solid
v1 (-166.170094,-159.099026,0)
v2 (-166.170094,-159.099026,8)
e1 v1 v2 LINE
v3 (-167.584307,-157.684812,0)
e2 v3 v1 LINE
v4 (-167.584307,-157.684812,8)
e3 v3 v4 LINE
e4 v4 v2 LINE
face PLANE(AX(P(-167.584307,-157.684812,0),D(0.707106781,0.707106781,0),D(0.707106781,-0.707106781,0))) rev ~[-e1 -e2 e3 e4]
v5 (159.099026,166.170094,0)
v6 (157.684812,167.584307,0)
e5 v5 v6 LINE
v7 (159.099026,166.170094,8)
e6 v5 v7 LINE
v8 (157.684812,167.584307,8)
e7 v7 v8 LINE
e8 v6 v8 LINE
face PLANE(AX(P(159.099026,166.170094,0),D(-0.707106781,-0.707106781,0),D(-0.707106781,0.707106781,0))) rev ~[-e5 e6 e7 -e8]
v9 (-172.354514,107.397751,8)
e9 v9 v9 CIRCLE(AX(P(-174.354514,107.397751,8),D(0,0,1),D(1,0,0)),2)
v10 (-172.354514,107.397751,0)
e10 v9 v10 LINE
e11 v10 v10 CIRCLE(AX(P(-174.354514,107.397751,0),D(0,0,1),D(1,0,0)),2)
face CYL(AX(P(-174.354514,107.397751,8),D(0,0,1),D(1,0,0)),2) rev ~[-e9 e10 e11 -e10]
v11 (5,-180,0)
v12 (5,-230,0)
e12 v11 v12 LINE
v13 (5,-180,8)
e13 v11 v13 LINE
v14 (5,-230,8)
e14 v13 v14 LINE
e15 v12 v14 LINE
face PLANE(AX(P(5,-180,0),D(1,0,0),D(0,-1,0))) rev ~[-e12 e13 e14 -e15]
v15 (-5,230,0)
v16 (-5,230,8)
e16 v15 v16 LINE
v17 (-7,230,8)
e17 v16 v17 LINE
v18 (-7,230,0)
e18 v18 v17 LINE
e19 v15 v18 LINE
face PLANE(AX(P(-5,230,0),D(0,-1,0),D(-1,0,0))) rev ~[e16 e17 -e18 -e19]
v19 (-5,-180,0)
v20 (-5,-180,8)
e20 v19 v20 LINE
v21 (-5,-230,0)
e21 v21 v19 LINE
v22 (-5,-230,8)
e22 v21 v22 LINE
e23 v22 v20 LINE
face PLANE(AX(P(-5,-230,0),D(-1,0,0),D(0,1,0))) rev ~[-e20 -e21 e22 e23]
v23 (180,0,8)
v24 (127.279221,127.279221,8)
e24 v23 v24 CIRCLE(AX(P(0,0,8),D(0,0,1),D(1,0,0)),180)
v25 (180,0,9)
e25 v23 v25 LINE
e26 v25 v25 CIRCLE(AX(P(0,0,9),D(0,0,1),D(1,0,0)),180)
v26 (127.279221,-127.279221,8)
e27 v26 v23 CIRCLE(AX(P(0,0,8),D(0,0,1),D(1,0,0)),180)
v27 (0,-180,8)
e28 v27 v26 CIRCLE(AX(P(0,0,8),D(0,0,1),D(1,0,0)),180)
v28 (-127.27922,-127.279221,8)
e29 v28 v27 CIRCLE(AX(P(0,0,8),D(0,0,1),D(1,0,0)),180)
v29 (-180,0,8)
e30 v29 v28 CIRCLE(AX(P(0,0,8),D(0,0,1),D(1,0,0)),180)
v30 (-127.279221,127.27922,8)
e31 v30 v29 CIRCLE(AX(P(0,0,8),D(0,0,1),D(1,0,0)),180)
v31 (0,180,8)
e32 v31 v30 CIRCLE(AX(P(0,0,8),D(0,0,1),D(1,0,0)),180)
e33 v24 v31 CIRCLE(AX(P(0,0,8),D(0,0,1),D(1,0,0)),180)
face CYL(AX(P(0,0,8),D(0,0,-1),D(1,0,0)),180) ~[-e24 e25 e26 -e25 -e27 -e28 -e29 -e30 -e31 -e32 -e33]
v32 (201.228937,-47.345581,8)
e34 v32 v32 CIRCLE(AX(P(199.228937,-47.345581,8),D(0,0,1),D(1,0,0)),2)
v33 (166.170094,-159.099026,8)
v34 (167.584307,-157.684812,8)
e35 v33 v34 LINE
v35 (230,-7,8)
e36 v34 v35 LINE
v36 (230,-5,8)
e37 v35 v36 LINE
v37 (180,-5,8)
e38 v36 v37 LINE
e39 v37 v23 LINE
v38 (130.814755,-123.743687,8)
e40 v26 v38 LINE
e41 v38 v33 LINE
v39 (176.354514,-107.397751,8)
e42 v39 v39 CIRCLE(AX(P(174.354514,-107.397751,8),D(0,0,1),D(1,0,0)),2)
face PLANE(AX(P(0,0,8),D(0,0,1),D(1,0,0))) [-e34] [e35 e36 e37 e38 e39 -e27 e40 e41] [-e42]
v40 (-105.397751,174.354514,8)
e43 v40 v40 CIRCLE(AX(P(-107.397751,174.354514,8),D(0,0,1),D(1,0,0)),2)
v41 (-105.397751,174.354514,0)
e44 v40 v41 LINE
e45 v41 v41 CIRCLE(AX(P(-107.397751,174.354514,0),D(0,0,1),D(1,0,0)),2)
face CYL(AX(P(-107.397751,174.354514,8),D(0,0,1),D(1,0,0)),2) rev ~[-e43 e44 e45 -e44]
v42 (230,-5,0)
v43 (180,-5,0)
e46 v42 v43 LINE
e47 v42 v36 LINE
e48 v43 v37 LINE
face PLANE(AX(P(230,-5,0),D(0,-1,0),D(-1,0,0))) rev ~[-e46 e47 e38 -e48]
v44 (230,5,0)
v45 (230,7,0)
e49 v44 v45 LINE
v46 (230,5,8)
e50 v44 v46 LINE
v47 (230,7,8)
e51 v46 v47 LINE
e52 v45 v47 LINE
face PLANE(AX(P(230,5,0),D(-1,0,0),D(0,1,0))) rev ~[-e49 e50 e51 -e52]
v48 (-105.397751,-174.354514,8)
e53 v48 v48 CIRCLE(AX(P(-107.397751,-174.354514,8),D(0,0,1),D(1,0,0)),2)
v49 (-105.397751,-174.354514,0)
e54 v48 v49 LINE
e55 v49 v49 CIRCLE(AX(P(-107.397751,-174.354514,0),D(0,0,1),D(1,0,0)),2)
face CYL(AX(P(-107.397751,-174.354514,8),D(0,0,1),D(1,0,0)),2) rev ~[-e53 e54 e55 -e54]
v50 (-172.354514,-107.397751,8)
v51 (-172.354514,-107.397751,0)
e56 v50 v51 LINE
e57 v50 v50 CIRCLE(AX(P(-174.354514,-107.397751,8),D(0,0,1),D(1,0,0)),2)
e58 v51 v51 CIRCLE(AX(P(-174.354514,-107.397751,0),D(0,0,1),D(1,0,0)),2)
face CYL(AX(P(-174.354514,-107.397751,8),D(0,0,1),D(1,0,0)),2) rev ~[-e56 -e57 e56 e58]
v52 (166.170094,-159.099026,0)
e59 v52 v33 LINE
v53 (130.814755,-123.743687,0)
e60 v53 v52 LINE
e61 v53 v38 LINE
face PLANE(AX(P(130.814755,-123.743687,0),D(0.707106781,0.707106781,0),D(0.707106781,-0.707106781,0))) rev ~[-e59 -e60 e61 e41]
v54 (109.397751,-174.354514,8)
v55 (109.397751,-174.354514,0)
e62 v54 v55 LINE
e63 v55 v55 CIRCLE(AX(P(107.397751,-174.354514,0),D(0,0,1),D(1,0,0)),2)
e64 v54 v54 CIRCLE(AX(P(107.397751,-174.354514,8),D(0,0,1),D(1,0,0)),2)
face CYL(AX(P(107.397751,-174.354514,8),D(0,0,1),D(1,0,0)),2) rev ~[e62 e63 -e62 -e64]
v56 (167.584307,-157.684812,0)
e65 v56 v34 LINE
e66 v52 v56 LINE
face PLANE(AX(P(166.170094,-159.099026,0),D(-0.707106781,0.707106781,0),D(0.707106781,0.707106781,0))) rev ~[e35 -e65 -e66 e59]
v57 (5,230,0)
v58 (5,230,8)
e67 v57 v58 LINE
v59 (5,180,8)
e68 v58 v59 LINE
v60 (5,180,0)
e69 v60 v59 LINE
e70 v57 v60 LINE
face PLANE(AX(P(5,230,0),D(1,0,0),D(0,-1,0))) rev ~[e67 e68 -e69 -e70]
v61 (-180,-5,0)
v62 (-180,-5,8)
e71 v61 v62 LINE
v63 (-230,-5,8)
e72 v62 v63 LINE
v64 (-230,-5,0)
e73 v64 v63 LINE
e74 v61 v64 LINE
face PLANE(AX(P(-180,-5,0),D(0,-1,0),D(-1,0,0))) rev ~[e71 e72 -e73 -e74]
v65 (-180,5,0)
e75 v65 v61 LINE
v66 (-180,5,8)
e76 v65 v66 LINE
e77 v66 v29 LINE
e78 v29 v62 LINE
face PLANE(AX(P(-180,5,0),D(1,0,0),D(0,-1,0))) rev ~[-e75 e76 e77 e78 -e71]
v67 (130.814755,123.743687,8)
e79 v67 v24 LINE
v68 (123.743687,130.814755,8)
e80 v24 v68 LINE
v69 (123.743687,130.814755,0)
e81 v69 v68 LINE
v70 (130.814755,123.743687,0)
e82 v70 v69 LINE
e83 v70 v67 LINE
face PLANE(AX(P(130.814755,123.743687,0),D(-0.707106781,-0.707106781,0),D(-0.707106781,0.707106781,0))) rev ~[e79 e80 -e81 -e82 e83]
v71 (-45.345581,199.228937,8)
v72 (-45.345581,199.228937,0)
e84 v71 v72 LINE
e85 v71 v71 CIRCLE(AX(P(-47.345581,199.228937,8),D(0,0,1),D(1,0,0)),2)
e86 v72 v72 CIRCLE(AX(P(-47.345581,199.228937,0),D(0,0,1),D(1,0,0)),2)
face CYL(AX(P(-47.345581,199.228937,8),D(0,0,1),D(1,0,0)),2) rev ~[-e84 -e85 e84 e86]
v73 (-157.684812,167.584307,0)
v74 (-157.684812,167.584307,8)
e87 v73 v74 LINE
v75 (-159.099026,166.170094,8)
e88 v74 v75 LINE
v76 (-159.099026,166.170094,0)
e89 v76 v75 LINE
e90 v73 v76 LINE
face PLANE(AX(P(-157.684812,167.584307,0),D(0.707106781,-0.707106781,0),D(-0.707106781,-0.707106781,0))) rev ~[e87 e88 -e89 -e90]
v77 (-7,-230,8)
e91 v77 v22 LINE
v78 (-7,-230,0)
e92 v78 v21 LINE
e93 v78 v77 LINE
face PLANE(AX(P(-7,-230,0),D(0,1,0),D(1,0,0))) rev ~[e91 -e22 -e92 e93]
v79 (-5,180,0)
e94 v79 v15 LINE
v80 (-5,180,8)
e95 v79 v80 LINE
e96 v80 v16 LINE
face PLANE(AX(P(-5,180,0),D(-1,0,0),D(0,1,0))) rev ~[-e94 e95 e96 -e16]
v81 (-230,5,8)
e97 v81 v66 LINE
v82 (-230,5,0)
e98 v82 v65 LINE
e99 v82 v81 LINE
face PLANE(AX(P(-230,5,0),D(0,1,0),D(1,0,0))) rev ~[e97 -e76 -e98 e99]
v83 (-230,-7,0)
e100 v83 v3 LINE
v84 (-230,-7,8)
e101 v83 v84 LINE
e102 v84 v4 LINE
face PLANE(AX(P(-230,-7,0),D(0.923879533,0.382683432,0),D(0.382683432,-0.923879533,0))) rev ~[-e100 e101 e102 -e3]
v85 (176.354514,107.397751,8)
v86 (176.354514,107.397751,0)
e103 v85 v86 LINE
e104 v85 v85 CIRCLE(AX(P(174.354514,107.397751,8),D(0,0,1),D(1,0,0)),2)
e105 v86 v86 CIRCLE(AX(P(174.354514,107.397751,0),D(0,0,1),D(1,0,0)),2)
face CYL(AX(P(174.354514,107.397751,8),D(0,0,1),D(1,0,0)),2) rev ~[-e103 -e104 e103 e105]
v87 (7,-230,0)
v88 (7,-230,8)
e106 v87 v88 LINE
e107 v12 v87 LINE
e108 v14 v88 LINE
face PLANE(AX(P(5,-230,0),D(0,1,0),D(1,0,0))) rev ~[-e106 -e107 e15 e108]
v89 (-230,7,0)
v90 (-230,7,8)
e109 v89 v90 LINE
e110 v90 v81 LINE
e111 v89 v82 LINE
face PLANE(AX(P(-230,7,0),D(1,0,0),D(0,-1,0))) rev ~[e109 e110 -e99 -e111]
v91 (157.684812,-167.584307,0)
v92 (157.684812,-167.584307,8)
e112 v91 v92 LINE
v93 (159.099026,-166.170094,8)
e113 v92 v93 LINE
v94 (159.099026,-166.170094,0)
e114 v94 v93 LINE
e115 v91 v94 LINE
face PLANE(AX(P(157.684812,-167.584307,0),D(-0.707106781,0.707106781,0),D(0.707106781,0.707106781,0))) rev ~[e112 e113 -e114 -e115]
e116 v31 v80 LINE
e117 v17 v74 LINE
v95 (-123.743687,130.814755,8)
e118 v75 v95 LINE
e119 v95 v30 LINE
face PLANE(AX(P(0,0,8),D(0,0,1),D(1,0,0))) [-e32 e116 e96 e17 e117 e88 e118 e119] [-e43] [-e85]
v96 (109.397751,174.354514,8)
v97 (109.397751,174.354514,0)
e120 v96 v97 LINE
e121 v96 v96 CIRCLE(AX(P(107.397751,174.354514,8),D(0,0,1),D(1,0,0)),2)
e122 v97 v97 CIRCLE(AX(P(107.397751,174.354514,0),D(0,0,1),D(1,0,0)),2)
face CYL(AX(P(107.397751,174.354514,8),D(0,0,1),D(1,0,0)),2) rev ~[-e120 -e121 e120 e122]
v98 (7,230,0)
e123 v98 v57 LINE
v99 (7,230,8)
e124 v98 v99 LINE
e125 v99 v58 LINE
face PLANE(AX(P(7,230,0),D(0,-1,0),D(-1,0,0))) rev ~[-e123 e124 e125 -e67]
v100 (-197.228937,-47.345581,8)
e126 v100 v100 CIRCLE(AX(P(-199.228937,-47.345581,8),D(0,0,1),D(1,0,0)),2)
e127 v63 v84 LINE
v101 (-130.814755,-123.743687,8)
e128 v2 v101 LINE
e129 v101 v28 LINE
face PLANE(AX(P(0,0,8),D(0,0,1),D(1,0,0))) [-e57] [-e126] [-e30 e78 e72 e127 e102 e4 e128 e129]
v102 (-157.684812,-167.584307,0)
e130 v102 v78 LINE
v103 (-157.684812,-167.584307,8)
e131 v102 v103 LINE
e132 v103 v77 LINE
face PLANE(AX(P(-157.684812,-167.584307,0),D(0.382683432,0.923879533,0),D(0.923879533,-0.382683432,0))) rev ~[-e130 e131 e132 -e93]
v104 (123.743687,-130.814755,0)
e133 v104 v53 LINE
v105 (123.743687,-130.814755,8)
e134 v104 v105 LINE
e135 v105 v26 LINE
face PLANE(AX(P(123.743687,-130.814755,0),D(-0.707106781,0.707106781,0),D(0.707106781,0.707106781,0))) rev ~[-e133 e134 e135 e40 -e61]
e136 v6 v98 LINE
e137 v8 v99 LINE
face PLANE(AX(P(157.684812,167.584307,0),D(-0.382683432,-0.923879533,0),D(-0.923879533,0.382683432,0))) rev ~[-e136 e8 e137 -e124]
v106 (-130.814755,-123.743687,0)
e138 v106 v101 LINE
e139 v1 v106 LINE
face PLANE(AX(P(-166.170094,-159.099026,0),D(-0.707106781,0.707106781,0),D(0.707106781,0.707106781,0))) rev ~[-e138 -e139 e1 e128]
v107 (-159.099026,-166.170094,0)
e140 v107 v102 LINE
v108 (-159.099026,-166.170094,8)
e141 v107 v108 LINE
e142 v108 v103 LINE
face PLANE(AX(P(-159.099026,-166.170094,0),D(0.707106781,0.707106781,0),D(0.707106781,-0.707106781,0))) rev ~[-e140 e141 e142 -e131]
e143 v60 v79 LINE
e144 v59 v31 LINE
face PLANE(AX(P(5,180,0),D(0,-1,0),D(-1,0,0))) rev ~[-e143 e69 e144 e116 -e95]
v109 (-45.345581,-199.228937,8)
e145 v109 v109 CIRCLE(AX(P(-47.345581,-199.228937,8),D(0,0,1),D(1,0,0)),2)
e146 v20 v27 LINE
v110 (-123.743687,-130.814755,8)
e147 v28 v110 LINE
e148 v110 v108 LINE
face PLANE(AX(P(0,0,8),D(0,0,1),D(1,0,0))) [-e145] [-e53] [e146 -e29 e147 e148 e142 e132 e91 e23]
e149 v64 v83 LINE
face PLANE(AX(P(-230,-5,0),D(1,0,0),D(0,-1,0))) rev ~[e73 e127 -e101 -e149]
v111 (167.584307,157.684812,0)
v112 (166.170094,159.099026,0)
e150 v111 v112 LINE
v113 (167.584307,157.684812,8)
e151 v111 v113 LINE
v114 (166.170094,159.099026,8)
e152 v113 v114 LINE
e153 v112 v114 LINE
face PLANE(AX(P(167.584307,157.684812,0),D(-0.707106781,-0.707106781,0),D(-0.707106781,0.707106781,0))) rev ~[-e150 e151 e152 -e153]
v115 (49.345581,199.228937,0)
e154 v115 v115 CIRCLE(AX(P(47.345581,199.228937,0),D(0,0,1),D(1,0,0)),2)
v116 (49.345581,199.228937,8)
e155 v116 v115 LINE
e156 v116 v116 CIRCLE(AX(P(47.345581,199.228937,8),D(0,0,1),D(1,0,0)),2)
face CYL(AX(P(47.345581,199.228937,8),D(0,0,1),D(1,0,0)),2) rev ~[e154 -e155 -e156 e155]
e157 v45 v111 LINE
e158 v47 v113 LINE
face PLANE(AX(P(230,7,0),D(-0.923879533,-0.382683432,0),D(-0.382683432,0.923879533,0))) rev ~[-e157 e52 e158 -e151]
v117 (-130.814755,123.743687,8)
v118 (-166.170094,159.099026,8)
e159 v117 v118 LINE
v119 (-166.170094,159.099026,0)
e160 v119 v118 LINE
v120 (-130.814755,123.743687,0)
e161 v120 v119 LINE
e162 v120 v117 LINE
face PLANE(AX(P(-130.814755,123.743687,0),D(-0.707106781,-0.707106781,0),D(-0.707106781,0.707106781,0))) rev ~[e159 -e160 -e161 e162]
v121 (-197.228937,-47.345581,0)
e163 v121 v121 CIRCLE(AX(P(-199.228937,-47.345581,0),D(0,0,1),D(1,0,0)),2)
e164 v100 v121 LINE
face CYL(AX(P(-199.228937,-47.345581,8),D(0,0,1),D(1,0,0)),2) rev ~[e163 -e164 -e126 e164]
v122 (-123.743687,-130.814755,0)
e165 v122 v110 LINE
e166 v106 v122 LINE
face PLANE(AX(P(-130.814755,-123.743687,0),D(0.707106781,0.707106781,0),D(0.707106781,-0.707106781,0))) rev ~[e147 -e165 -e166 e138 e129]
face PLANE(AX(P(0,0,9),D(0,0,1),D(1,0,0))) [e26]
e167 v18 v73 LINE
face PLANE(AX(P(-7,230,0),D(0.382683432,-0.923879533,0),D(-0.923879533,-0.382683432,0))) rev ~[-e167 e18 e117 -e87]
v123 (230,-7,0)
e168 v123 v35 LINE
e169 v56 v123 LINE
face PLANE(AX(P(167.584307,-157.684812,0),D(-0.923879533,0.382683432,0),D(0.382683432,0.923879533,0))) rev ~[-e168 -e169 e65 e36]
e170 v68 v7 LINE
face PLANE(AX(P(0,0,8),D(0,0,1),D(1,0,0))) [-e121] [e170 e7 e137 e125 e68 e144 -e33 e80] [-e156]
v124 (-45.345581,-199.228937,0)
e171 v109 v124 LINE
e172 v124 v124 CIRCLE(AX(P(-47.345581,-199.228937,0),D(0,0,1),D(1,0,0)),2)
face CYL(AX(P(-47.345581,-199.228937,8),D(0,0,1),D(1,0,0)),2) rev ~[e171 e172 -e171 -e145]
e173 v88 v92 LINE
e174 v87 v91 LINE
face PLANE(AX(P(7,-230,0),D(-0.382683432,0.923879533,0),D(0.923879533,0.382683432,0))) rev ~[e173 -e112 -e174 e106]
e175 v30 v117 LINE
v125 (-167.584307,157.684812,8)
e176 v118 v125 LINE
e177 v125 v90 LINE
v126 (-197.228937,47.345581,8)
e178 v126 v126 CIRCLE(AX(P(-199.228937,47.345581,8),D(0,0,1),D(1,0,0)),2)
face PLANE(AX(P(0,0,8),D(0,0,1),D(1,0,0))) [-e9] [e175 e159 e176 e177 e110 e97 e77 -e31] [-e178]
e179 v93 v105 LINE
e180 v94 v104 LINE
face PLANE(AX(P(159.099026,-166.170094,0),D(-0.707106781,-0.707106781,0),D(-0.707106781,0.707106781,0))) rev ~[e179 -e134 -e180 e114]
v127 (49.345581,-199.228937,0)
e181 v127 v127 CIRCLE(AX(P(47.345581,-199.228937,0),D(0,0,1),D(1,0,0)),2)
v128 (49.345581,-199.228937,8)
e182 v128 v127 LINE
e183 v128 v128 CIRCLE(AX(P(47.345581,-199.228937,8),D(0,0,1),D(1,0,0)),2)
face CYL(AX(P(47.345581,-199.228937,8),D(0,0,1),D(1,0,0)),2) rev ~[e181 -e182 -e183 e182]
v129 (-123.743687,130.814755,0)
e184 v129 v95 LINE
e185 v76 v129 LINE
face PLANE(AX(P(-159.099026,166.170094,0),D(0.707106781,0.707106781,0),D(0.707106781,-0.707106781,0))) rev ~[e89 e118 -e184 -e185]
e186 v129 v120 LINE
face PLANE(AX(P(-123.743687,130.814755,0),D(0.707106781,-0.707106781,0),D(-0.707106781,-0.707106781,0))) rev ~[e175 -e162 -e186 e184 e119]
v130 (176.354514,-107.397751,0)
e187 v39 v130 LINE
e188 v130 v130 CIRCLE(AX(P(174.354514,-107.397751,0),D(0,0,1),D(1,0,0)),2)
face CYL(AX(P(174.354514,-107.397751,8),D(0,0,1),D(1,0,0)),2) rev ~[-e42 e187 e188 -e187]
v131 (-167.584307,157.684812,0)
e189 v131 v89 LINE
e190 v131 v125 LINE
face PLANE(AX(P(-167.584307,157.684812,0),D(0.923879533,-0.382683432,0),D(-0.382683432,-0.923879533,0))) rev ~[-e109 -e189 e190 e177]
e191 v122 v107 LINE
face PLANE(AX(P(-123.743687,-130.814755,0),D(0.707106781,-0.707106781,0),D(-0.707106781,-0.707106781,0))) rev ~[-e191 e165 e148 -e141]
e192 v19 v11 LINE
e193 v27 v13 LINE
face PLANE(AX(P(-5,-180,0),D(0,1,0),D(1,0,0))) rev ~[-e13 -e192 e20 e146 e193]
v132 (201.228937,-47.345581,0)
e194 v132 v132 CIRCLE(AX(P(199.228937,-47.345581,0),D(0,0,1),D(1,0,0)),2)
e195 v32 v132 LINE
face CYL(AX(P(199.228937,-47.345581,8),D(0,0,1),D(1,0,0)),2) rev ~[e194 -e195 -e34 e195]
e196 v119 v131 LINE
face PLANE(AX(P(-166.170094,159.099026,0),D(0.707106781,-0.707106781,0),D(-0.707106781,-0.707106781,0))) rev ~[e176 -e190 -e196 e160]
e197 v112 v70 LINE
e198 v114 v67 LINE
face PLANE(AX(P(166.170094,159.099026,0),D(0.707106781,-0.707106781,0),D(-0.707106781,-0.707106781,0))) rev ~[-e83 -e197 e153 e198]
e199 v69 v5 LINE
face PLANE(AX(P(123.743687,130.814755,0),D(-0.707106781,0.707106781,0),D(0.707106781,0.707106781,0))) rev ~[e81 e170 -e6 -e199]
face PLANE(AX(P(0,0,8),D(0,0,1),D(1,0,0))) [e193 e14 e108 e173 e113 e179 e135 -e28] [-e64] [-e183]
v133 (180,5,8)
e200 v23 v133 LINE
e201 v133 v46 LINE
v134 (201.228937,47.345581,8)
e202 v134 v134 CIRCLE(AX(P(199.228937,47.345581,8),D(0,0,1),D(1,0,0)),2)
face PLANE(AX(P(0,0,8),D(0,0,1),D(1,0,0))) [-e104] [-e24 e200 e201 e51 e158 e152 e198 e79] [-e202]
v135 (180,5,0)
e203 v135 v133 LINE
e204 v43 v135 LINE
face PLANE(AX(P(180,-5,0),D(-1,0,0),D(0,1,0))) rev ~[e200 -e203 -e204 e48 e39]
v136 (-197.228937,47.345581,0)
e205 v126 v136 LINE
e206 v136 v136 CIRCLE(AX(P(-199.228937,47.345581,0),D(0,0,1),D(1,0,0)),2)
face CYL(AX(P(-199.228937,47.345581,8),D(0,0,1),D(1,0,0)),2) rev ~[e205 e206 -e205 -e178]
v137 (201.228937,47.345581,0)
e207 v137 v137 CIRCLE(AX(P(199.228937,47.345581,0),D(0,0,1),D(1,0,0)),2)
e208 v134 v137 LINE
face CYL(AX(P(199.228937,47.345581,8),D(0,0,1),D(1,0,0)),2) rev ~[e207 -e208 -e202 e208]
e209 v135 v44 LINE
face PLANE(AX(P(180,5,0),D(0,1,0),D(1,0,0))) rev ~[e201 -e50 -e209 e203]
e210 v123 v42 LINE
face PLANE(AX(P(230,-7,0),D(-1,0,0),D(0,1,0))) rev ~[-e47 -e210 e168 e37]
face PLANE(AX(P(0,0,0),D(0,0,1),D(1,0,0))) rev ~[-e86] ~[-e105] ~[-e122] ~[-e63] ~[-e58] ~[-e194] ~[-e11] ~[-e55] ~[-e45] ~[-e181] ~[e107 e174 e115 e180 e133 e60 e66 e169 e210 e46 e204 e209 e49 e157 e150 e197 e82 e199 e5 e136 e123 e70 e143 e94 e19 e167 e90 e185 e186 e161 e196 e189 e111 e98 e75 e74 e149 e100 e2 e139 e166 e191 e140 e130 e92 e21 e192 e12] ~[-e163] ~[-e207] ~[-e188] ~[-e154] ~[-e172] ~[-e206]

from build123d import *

# Parameters (mm, degrees)
BOSS_EXTRUDE1_DEPTH = 8
SKETCH2_R           = 180
BOSS_EXTRUDE2_DEPTH = 1
CUT_EXTRUDE1_REACH  = 10
SKETCH3_R           = 2


with BuildPart() as part:
    # Sketch1 → Boss-Extrude1 (new body)
    with BuildSketch(Plane.XY):
        Polygon((5, 230), (5, 180), (-5, 180), (-5, 230), (-7, 230), (-157.684812205, 167.584307141), (-159.099025767, 166.170093579), (-123.743686708, 130.814754519), (-130.81475452, 123.743686708), (-166.170093579, 159.099025767), (-167.584307141, 157.684812205), (-230, 7), (-230, 5), (-180, 5), (-180, -5), (-230, -5), (-230, -7), (-167.584307141, -157.684812205), (-166.170093579, -159.099025767), (-130.81475452, -123.743686708), (-123.743686708, -130.81475452), (-159.099025767, -166.170093579), (-157.684812205, -167.584307141), (-7, -230), (-5, -230), (-5, -180), (5, -180), (5, -230), (7, -230), (157.684812205, -167.584307141), (159.099025767, -166.170093579), (123.743686708, -130.814754519), (130.81475452, -123.743686708), (166.170093579, -159.099025767), (167.584307141, -157.684812205), (230, -7), (230, -5), (180, -5), (180, 5), (230, 5), (230, 7), (167.584307141, 157.684812205), (166.170093579, 159.099025767), (130.81475452, 123.743686708), (123.743686708, 130.81475452), (159.099025767, 166.170093579), (157.684812205, 167.584307141), (7, 230), align=None)
    extrude(amount=BOSS_EXTRUDE1_DEPTH)

    # Sketch2 → Boss-Extrude2 (add)
    with BuildSketch(Plane.XY.offset(8)):
        Circle(SKETCH2_R)
    extrude(amount=BOSS_EXTRUDE2_DEPTH)

    # Sketch3 → Cut-Extrude1 (cut, up to next)
    with BuildSketch(Plane.XY.offset(8), mode=Mode.PRIVATE) as cut_extrude1_sk1:
        with Locations((107.397750993, 174.354514299)):
            Circle(SKETCH3_R)
    cut_extrude1_tool1 = extrude(cut_extrude1_sk1.sketch, amount=-CUT_EXTRUDE1_REACH, mode=Mode.PRIVATE) & part.part
    add(cut_extrude1_tool1.solids().sort_by_distance((107.397751, 174.354514, 8))[0], mode=Mode.SUBTRACT)
    # Sketch3 → Cut-Extrude1 (cut, up to next)
    with BuildSketch(Plane.XY.offset(8), mode=Mode.PRIVATE) as cut_extrude1_sk2:
        with Locations((47.34558138, 199.228937402)):
            Circle(SKETCH3_R)
    cut_extrude1_tool2 = extrude(cut_extrude1_sk2.sketch, amount=-CUT_EXTRUDE1_REACH, mode=Mode.PRIVATE) & part.part
    add(cut_extrude1_tool2.solids().sort_by_distance((47.345581, 199.228937, 8))[0], mode=Mode.SUBTRACT)
    # Sketch3 → Cut-Extrude1 (cut, up to next)
    with BuildSketch(Plane.XY.offset(8), mode=Mode.PRIVATE) as cut_extrude1_sk3:
        with Locations((199.228937402, 47.34558138)):
            Circle(SKETCH3_R)
    cut_extrude1_tool3 = extrude(cut_extrude1_sk3.sketch, amount=-CUT_EXTRUDE1_REACH, mode=Mode.PRIVATE) & part.part
    add(cut_extrude1_tool3.solids().sort_by_distance((199.228937, 47.345581, 8))[0], mode=Mode.SUBTRACT)
    # Sketch3 → Cut-Extrude1 (cut, up to next)
    with BuildSketch(Plane.XY.offset(8), mode=Mode.PRIVATE) as cut_extrude1_sk4:
        with Locations((174.354514299, 107.397750993)):
            Circle(SKETCH3_R)
    cut_extrude1_tool4 = extrude(cut_extrude1_sk4.sketch, amount=-CUT_EXTRUDE1_REACH, mode=Mode.PRIVATE) & part.part
    add(cut_extrude1_tool4.solids().sort_by_distance((174.354514, 107.397751, 8))[0], mode=Mode.SUBTRACT)
    # Sketch3 → Cut-Extrude1 (cut, up to next)
    with BuildSketch(Plane.XY.offset(8), mode=Mode.PRIVATE) as cut_extrude1_sk5:
        with Locations((174.354514299, -107.397750993)):
            Circle(SKETCH3_R)
    cut_extrude1_tool5 = extrude(cut_extrude1_sk5.sketch, amount=-CUT_EXTRUDE1_REACH, mode=Mode.PRIVATE) & part.part
    add(cut_extrude1_tool5.solids().sort_by_distance((174.354514, -107.397751, 8))[0], mode=Mode.SUBTRACT)
    # Sketch3 → Cut-Extrude1 (cut, up to next)
    with BuildSketch(Plane.XY.offset(8), mode=Mode.PRIVATE) as cut_extrude1_sk6:
        with Locations((199.228937402, -47.34558138)):
            Circle(SKETCH3_R)
    cut_extrude1_tool6 = extrude(cut_extrude1_sk6.sketch, amount=-CUT_EXTRUDE1_REACH, mode=Mode.PRIVATE) & part.part
    add(cut_extrude1_tool6.solids().sort_by_distance((199.228937, -47.345581, 8))[0], mode=Mode.SUBTRACT)
    # Sketch3 → Cut-Extrude1 (cut, up to next)
    with BuildSketch(Plane.XY.offset(8), mode=Mode.PRIVATE) as cut_extrude1_sk7:
        with Locations((47.34558138, -199.228937402)):
            Circle(SKETCH3_R)
    cut_extrude1_tool7 = extrude(cut_extrude1_sk7.sketch, amount=-CUT_EXTRUDE1_REACH, mode=Mode.PRIVATE) & part.part
    add(cut_extrude1_tool7.solids().sort_by_distance((47.345581, -199.228937, 8))[0], mode=Mode.SUBTRACT)
    # Sketch3 → Cut-Extrude1 (cut, up to next)
    with BuildSketch(Plane.XY.offset(8), mode=Mode.PRIVATE) as cut_extrude1_sk8:
        with Locations((107.397750993, -174.354514299)):
            Circle(SKETCH3_R)
    cut_extrude1_tool8 = extrude(cut_extrude1_sk8.sketch, amount=-CUT_EXTRUDE1_REACH, mode=Mode.PRIVATE) & part.part
    add(cut_extrude1_tool8.solids().sort_by_distance((107.397751, -174.354514, 8))[0], mode=Mode.SUBTRACT)
    # Sketch3 → Cut-Extrude1 (cut, up to next)
    with BuildSketch(Plane.XY.offset(8), mode=Mode.PRIVATE) as cut_extrude1_sk9:
        with Locations((-107.397750993, -174.354514299)):
            Circle(SKETCH3_R)
    cut_extrude1_tool9 = extrude(cut_extrude1_sk9.sketch, amount=-CUT_EXTRUDE1_REACH, mode=Mode.PRIVATE) & part.part
    add(cut_extrude1_tool9.solids().sort_by_distance((-107.397751, -174.354514, 8))[0], mode=Mode.SUBTRACT)
    # Sketch3 → Cut-Extrude1 (cut, up to next)
    with BuildSketch(Plane.XY.offset(8), mode=Mode.PRIVATE) as cut_extrude1_sk10:
        with Locations((-47.34558138, -199.228937402)):
            Circle(SKETCH3_R)
    cut_extrude1_tool10 = extrude(cut_extrude1_sk10.sketch, amount=-CUT_EXTRUDE1_REACH, mode=Mode.PRIVATE) & part.part
    add(cut_extrude1_tool10.solids().sort_by_distance((-47.345581, -199.228937, 8))[0], mode=Mode.SUBTRACT)
    # Sketch3 → Cut-Extrude1 (cut, up to next)
    with BuildSketch(Plane.XY.offset(8), mode=Mode.PRIVATE) as cut_extrude1_sk11:
        with Locations((-199.228937402, -47.34558138)):
            Circle(SKETCH3_R)
    cut_extrude1_tool11 = extrude(cut_extrude1_sk11.sketch, amount=-CUT_EXTRUDE1_REACH, mode=Mode.PRIVATE) & part.part
    add(cut_extrude1_tool11.solids().sort_by_distance((-199.228937, -47.345581, 8))[0], mode=Mode.SUBTRACT)
    # Sketch3 → Cut-Extrude1 (cut, up to next)
    with BuildSketch(Plane.XY.offset(8), mode=Mode.PRIVATE) as cut_extrude1_sk12:
        with Locations((-174.354514299, -107.397750993)):
            Circle(SKETCH3_R)
    cut_extrude1_tool12 = extrude(cut_extrude1_sk12.sketch, amount=-CUT_EXTRUDE1_REACH, mode=Mode.PRIVATE) & part.part
    add(cut_extrude1_tool12.solids().sort_by_distance((-174.354514, -107.397751, 8))[0], mode=Mode.SUBTRACT)
    # Sketch3 → Cut-Extrude1 (cut, up to next)
    with BuildSketch(Plane.XY.offset(8), mode=Mode.PRIVATE) as cut_extrude1_sk13:
        with Locations((-174.354514299, 107.397750993)):
            Circle(SKETCH3_R)
    cut_extrude1_tool13 = extrude(cut_extrude1_sk13.sketch, amount=-CUT_EXTRUDE1_REACH, mode=Mode.PRIVATE) & part.part
    add(cut_extrude1_tool13.solids().sort_by_distance((-174.354514, 107.397751, 8))[0], mode=Mode.SUBTRACT)
    # Sketch3 → Cut-Extrude1 (cut, up to next)
    with BuildSketch(Plane.XY.offset(8), mode=Mode.PRIVATE) as cut_extrude1_sk14:
        with Locations((-199.228937402, 47.34558138)):
            Circle(SKETCH3_R)
    cut_extrude1_tool14 = extrude(cut_extrude1_sk14.sketch, amount=-CUT_EXTRUDE1_REACH, mode=Mode.PRIVATE) & part.part
    add(cut_extrude1_tool14.solids().sort_by_distance((-199.228937, 47.345581, 8))[0], mode=Mode.SUBTRACT)
    # Sketch3 → Cut-Extrude1 (cut, up to next)
    with BuildSketch(Plane.XY.offset(8), mode=Mode.PRIVATE) as cut_extrude1_sk15:
        with Locations((-47.34558138, 199.228937402)):
            Circle(SKETCH3_R)
    cut_extrude1_tool15 = extrude(cut_extrude1_sk15.sketch, amount=-CUT_EXTRUDE1_REACH, mode=Mode.PRIVATE) & part.part
    add(cut_extrude1_tool15.solids().sort_by_distance((-47.345581, 199.228937, 8))[0], mode=Mode.SUBTRACT)
    # Sketch3 → Cut-Extrude1 (cut, up to next)
    with BuildSketch(Plane.XY.offset(8), mode=Mode.PRIVATE) as cut_extrude1_sk16:
        with Locations((-107.397750993, 174.354514299)):
            Circle(SKETCH3_R)
    cut_extrude1_tool16 = extrude(cut_extrude1_sk16.sketch, amount=-CUT_EXTRUDE1_REACH, mode=Mode.PRIVATE) & part.part
    add(cut_extrude1_tool16.solids().sort_by_distance((-107.397751, 174.354514, 8))[0], mode=Mode.SUBTRACT)


solid = part.part
